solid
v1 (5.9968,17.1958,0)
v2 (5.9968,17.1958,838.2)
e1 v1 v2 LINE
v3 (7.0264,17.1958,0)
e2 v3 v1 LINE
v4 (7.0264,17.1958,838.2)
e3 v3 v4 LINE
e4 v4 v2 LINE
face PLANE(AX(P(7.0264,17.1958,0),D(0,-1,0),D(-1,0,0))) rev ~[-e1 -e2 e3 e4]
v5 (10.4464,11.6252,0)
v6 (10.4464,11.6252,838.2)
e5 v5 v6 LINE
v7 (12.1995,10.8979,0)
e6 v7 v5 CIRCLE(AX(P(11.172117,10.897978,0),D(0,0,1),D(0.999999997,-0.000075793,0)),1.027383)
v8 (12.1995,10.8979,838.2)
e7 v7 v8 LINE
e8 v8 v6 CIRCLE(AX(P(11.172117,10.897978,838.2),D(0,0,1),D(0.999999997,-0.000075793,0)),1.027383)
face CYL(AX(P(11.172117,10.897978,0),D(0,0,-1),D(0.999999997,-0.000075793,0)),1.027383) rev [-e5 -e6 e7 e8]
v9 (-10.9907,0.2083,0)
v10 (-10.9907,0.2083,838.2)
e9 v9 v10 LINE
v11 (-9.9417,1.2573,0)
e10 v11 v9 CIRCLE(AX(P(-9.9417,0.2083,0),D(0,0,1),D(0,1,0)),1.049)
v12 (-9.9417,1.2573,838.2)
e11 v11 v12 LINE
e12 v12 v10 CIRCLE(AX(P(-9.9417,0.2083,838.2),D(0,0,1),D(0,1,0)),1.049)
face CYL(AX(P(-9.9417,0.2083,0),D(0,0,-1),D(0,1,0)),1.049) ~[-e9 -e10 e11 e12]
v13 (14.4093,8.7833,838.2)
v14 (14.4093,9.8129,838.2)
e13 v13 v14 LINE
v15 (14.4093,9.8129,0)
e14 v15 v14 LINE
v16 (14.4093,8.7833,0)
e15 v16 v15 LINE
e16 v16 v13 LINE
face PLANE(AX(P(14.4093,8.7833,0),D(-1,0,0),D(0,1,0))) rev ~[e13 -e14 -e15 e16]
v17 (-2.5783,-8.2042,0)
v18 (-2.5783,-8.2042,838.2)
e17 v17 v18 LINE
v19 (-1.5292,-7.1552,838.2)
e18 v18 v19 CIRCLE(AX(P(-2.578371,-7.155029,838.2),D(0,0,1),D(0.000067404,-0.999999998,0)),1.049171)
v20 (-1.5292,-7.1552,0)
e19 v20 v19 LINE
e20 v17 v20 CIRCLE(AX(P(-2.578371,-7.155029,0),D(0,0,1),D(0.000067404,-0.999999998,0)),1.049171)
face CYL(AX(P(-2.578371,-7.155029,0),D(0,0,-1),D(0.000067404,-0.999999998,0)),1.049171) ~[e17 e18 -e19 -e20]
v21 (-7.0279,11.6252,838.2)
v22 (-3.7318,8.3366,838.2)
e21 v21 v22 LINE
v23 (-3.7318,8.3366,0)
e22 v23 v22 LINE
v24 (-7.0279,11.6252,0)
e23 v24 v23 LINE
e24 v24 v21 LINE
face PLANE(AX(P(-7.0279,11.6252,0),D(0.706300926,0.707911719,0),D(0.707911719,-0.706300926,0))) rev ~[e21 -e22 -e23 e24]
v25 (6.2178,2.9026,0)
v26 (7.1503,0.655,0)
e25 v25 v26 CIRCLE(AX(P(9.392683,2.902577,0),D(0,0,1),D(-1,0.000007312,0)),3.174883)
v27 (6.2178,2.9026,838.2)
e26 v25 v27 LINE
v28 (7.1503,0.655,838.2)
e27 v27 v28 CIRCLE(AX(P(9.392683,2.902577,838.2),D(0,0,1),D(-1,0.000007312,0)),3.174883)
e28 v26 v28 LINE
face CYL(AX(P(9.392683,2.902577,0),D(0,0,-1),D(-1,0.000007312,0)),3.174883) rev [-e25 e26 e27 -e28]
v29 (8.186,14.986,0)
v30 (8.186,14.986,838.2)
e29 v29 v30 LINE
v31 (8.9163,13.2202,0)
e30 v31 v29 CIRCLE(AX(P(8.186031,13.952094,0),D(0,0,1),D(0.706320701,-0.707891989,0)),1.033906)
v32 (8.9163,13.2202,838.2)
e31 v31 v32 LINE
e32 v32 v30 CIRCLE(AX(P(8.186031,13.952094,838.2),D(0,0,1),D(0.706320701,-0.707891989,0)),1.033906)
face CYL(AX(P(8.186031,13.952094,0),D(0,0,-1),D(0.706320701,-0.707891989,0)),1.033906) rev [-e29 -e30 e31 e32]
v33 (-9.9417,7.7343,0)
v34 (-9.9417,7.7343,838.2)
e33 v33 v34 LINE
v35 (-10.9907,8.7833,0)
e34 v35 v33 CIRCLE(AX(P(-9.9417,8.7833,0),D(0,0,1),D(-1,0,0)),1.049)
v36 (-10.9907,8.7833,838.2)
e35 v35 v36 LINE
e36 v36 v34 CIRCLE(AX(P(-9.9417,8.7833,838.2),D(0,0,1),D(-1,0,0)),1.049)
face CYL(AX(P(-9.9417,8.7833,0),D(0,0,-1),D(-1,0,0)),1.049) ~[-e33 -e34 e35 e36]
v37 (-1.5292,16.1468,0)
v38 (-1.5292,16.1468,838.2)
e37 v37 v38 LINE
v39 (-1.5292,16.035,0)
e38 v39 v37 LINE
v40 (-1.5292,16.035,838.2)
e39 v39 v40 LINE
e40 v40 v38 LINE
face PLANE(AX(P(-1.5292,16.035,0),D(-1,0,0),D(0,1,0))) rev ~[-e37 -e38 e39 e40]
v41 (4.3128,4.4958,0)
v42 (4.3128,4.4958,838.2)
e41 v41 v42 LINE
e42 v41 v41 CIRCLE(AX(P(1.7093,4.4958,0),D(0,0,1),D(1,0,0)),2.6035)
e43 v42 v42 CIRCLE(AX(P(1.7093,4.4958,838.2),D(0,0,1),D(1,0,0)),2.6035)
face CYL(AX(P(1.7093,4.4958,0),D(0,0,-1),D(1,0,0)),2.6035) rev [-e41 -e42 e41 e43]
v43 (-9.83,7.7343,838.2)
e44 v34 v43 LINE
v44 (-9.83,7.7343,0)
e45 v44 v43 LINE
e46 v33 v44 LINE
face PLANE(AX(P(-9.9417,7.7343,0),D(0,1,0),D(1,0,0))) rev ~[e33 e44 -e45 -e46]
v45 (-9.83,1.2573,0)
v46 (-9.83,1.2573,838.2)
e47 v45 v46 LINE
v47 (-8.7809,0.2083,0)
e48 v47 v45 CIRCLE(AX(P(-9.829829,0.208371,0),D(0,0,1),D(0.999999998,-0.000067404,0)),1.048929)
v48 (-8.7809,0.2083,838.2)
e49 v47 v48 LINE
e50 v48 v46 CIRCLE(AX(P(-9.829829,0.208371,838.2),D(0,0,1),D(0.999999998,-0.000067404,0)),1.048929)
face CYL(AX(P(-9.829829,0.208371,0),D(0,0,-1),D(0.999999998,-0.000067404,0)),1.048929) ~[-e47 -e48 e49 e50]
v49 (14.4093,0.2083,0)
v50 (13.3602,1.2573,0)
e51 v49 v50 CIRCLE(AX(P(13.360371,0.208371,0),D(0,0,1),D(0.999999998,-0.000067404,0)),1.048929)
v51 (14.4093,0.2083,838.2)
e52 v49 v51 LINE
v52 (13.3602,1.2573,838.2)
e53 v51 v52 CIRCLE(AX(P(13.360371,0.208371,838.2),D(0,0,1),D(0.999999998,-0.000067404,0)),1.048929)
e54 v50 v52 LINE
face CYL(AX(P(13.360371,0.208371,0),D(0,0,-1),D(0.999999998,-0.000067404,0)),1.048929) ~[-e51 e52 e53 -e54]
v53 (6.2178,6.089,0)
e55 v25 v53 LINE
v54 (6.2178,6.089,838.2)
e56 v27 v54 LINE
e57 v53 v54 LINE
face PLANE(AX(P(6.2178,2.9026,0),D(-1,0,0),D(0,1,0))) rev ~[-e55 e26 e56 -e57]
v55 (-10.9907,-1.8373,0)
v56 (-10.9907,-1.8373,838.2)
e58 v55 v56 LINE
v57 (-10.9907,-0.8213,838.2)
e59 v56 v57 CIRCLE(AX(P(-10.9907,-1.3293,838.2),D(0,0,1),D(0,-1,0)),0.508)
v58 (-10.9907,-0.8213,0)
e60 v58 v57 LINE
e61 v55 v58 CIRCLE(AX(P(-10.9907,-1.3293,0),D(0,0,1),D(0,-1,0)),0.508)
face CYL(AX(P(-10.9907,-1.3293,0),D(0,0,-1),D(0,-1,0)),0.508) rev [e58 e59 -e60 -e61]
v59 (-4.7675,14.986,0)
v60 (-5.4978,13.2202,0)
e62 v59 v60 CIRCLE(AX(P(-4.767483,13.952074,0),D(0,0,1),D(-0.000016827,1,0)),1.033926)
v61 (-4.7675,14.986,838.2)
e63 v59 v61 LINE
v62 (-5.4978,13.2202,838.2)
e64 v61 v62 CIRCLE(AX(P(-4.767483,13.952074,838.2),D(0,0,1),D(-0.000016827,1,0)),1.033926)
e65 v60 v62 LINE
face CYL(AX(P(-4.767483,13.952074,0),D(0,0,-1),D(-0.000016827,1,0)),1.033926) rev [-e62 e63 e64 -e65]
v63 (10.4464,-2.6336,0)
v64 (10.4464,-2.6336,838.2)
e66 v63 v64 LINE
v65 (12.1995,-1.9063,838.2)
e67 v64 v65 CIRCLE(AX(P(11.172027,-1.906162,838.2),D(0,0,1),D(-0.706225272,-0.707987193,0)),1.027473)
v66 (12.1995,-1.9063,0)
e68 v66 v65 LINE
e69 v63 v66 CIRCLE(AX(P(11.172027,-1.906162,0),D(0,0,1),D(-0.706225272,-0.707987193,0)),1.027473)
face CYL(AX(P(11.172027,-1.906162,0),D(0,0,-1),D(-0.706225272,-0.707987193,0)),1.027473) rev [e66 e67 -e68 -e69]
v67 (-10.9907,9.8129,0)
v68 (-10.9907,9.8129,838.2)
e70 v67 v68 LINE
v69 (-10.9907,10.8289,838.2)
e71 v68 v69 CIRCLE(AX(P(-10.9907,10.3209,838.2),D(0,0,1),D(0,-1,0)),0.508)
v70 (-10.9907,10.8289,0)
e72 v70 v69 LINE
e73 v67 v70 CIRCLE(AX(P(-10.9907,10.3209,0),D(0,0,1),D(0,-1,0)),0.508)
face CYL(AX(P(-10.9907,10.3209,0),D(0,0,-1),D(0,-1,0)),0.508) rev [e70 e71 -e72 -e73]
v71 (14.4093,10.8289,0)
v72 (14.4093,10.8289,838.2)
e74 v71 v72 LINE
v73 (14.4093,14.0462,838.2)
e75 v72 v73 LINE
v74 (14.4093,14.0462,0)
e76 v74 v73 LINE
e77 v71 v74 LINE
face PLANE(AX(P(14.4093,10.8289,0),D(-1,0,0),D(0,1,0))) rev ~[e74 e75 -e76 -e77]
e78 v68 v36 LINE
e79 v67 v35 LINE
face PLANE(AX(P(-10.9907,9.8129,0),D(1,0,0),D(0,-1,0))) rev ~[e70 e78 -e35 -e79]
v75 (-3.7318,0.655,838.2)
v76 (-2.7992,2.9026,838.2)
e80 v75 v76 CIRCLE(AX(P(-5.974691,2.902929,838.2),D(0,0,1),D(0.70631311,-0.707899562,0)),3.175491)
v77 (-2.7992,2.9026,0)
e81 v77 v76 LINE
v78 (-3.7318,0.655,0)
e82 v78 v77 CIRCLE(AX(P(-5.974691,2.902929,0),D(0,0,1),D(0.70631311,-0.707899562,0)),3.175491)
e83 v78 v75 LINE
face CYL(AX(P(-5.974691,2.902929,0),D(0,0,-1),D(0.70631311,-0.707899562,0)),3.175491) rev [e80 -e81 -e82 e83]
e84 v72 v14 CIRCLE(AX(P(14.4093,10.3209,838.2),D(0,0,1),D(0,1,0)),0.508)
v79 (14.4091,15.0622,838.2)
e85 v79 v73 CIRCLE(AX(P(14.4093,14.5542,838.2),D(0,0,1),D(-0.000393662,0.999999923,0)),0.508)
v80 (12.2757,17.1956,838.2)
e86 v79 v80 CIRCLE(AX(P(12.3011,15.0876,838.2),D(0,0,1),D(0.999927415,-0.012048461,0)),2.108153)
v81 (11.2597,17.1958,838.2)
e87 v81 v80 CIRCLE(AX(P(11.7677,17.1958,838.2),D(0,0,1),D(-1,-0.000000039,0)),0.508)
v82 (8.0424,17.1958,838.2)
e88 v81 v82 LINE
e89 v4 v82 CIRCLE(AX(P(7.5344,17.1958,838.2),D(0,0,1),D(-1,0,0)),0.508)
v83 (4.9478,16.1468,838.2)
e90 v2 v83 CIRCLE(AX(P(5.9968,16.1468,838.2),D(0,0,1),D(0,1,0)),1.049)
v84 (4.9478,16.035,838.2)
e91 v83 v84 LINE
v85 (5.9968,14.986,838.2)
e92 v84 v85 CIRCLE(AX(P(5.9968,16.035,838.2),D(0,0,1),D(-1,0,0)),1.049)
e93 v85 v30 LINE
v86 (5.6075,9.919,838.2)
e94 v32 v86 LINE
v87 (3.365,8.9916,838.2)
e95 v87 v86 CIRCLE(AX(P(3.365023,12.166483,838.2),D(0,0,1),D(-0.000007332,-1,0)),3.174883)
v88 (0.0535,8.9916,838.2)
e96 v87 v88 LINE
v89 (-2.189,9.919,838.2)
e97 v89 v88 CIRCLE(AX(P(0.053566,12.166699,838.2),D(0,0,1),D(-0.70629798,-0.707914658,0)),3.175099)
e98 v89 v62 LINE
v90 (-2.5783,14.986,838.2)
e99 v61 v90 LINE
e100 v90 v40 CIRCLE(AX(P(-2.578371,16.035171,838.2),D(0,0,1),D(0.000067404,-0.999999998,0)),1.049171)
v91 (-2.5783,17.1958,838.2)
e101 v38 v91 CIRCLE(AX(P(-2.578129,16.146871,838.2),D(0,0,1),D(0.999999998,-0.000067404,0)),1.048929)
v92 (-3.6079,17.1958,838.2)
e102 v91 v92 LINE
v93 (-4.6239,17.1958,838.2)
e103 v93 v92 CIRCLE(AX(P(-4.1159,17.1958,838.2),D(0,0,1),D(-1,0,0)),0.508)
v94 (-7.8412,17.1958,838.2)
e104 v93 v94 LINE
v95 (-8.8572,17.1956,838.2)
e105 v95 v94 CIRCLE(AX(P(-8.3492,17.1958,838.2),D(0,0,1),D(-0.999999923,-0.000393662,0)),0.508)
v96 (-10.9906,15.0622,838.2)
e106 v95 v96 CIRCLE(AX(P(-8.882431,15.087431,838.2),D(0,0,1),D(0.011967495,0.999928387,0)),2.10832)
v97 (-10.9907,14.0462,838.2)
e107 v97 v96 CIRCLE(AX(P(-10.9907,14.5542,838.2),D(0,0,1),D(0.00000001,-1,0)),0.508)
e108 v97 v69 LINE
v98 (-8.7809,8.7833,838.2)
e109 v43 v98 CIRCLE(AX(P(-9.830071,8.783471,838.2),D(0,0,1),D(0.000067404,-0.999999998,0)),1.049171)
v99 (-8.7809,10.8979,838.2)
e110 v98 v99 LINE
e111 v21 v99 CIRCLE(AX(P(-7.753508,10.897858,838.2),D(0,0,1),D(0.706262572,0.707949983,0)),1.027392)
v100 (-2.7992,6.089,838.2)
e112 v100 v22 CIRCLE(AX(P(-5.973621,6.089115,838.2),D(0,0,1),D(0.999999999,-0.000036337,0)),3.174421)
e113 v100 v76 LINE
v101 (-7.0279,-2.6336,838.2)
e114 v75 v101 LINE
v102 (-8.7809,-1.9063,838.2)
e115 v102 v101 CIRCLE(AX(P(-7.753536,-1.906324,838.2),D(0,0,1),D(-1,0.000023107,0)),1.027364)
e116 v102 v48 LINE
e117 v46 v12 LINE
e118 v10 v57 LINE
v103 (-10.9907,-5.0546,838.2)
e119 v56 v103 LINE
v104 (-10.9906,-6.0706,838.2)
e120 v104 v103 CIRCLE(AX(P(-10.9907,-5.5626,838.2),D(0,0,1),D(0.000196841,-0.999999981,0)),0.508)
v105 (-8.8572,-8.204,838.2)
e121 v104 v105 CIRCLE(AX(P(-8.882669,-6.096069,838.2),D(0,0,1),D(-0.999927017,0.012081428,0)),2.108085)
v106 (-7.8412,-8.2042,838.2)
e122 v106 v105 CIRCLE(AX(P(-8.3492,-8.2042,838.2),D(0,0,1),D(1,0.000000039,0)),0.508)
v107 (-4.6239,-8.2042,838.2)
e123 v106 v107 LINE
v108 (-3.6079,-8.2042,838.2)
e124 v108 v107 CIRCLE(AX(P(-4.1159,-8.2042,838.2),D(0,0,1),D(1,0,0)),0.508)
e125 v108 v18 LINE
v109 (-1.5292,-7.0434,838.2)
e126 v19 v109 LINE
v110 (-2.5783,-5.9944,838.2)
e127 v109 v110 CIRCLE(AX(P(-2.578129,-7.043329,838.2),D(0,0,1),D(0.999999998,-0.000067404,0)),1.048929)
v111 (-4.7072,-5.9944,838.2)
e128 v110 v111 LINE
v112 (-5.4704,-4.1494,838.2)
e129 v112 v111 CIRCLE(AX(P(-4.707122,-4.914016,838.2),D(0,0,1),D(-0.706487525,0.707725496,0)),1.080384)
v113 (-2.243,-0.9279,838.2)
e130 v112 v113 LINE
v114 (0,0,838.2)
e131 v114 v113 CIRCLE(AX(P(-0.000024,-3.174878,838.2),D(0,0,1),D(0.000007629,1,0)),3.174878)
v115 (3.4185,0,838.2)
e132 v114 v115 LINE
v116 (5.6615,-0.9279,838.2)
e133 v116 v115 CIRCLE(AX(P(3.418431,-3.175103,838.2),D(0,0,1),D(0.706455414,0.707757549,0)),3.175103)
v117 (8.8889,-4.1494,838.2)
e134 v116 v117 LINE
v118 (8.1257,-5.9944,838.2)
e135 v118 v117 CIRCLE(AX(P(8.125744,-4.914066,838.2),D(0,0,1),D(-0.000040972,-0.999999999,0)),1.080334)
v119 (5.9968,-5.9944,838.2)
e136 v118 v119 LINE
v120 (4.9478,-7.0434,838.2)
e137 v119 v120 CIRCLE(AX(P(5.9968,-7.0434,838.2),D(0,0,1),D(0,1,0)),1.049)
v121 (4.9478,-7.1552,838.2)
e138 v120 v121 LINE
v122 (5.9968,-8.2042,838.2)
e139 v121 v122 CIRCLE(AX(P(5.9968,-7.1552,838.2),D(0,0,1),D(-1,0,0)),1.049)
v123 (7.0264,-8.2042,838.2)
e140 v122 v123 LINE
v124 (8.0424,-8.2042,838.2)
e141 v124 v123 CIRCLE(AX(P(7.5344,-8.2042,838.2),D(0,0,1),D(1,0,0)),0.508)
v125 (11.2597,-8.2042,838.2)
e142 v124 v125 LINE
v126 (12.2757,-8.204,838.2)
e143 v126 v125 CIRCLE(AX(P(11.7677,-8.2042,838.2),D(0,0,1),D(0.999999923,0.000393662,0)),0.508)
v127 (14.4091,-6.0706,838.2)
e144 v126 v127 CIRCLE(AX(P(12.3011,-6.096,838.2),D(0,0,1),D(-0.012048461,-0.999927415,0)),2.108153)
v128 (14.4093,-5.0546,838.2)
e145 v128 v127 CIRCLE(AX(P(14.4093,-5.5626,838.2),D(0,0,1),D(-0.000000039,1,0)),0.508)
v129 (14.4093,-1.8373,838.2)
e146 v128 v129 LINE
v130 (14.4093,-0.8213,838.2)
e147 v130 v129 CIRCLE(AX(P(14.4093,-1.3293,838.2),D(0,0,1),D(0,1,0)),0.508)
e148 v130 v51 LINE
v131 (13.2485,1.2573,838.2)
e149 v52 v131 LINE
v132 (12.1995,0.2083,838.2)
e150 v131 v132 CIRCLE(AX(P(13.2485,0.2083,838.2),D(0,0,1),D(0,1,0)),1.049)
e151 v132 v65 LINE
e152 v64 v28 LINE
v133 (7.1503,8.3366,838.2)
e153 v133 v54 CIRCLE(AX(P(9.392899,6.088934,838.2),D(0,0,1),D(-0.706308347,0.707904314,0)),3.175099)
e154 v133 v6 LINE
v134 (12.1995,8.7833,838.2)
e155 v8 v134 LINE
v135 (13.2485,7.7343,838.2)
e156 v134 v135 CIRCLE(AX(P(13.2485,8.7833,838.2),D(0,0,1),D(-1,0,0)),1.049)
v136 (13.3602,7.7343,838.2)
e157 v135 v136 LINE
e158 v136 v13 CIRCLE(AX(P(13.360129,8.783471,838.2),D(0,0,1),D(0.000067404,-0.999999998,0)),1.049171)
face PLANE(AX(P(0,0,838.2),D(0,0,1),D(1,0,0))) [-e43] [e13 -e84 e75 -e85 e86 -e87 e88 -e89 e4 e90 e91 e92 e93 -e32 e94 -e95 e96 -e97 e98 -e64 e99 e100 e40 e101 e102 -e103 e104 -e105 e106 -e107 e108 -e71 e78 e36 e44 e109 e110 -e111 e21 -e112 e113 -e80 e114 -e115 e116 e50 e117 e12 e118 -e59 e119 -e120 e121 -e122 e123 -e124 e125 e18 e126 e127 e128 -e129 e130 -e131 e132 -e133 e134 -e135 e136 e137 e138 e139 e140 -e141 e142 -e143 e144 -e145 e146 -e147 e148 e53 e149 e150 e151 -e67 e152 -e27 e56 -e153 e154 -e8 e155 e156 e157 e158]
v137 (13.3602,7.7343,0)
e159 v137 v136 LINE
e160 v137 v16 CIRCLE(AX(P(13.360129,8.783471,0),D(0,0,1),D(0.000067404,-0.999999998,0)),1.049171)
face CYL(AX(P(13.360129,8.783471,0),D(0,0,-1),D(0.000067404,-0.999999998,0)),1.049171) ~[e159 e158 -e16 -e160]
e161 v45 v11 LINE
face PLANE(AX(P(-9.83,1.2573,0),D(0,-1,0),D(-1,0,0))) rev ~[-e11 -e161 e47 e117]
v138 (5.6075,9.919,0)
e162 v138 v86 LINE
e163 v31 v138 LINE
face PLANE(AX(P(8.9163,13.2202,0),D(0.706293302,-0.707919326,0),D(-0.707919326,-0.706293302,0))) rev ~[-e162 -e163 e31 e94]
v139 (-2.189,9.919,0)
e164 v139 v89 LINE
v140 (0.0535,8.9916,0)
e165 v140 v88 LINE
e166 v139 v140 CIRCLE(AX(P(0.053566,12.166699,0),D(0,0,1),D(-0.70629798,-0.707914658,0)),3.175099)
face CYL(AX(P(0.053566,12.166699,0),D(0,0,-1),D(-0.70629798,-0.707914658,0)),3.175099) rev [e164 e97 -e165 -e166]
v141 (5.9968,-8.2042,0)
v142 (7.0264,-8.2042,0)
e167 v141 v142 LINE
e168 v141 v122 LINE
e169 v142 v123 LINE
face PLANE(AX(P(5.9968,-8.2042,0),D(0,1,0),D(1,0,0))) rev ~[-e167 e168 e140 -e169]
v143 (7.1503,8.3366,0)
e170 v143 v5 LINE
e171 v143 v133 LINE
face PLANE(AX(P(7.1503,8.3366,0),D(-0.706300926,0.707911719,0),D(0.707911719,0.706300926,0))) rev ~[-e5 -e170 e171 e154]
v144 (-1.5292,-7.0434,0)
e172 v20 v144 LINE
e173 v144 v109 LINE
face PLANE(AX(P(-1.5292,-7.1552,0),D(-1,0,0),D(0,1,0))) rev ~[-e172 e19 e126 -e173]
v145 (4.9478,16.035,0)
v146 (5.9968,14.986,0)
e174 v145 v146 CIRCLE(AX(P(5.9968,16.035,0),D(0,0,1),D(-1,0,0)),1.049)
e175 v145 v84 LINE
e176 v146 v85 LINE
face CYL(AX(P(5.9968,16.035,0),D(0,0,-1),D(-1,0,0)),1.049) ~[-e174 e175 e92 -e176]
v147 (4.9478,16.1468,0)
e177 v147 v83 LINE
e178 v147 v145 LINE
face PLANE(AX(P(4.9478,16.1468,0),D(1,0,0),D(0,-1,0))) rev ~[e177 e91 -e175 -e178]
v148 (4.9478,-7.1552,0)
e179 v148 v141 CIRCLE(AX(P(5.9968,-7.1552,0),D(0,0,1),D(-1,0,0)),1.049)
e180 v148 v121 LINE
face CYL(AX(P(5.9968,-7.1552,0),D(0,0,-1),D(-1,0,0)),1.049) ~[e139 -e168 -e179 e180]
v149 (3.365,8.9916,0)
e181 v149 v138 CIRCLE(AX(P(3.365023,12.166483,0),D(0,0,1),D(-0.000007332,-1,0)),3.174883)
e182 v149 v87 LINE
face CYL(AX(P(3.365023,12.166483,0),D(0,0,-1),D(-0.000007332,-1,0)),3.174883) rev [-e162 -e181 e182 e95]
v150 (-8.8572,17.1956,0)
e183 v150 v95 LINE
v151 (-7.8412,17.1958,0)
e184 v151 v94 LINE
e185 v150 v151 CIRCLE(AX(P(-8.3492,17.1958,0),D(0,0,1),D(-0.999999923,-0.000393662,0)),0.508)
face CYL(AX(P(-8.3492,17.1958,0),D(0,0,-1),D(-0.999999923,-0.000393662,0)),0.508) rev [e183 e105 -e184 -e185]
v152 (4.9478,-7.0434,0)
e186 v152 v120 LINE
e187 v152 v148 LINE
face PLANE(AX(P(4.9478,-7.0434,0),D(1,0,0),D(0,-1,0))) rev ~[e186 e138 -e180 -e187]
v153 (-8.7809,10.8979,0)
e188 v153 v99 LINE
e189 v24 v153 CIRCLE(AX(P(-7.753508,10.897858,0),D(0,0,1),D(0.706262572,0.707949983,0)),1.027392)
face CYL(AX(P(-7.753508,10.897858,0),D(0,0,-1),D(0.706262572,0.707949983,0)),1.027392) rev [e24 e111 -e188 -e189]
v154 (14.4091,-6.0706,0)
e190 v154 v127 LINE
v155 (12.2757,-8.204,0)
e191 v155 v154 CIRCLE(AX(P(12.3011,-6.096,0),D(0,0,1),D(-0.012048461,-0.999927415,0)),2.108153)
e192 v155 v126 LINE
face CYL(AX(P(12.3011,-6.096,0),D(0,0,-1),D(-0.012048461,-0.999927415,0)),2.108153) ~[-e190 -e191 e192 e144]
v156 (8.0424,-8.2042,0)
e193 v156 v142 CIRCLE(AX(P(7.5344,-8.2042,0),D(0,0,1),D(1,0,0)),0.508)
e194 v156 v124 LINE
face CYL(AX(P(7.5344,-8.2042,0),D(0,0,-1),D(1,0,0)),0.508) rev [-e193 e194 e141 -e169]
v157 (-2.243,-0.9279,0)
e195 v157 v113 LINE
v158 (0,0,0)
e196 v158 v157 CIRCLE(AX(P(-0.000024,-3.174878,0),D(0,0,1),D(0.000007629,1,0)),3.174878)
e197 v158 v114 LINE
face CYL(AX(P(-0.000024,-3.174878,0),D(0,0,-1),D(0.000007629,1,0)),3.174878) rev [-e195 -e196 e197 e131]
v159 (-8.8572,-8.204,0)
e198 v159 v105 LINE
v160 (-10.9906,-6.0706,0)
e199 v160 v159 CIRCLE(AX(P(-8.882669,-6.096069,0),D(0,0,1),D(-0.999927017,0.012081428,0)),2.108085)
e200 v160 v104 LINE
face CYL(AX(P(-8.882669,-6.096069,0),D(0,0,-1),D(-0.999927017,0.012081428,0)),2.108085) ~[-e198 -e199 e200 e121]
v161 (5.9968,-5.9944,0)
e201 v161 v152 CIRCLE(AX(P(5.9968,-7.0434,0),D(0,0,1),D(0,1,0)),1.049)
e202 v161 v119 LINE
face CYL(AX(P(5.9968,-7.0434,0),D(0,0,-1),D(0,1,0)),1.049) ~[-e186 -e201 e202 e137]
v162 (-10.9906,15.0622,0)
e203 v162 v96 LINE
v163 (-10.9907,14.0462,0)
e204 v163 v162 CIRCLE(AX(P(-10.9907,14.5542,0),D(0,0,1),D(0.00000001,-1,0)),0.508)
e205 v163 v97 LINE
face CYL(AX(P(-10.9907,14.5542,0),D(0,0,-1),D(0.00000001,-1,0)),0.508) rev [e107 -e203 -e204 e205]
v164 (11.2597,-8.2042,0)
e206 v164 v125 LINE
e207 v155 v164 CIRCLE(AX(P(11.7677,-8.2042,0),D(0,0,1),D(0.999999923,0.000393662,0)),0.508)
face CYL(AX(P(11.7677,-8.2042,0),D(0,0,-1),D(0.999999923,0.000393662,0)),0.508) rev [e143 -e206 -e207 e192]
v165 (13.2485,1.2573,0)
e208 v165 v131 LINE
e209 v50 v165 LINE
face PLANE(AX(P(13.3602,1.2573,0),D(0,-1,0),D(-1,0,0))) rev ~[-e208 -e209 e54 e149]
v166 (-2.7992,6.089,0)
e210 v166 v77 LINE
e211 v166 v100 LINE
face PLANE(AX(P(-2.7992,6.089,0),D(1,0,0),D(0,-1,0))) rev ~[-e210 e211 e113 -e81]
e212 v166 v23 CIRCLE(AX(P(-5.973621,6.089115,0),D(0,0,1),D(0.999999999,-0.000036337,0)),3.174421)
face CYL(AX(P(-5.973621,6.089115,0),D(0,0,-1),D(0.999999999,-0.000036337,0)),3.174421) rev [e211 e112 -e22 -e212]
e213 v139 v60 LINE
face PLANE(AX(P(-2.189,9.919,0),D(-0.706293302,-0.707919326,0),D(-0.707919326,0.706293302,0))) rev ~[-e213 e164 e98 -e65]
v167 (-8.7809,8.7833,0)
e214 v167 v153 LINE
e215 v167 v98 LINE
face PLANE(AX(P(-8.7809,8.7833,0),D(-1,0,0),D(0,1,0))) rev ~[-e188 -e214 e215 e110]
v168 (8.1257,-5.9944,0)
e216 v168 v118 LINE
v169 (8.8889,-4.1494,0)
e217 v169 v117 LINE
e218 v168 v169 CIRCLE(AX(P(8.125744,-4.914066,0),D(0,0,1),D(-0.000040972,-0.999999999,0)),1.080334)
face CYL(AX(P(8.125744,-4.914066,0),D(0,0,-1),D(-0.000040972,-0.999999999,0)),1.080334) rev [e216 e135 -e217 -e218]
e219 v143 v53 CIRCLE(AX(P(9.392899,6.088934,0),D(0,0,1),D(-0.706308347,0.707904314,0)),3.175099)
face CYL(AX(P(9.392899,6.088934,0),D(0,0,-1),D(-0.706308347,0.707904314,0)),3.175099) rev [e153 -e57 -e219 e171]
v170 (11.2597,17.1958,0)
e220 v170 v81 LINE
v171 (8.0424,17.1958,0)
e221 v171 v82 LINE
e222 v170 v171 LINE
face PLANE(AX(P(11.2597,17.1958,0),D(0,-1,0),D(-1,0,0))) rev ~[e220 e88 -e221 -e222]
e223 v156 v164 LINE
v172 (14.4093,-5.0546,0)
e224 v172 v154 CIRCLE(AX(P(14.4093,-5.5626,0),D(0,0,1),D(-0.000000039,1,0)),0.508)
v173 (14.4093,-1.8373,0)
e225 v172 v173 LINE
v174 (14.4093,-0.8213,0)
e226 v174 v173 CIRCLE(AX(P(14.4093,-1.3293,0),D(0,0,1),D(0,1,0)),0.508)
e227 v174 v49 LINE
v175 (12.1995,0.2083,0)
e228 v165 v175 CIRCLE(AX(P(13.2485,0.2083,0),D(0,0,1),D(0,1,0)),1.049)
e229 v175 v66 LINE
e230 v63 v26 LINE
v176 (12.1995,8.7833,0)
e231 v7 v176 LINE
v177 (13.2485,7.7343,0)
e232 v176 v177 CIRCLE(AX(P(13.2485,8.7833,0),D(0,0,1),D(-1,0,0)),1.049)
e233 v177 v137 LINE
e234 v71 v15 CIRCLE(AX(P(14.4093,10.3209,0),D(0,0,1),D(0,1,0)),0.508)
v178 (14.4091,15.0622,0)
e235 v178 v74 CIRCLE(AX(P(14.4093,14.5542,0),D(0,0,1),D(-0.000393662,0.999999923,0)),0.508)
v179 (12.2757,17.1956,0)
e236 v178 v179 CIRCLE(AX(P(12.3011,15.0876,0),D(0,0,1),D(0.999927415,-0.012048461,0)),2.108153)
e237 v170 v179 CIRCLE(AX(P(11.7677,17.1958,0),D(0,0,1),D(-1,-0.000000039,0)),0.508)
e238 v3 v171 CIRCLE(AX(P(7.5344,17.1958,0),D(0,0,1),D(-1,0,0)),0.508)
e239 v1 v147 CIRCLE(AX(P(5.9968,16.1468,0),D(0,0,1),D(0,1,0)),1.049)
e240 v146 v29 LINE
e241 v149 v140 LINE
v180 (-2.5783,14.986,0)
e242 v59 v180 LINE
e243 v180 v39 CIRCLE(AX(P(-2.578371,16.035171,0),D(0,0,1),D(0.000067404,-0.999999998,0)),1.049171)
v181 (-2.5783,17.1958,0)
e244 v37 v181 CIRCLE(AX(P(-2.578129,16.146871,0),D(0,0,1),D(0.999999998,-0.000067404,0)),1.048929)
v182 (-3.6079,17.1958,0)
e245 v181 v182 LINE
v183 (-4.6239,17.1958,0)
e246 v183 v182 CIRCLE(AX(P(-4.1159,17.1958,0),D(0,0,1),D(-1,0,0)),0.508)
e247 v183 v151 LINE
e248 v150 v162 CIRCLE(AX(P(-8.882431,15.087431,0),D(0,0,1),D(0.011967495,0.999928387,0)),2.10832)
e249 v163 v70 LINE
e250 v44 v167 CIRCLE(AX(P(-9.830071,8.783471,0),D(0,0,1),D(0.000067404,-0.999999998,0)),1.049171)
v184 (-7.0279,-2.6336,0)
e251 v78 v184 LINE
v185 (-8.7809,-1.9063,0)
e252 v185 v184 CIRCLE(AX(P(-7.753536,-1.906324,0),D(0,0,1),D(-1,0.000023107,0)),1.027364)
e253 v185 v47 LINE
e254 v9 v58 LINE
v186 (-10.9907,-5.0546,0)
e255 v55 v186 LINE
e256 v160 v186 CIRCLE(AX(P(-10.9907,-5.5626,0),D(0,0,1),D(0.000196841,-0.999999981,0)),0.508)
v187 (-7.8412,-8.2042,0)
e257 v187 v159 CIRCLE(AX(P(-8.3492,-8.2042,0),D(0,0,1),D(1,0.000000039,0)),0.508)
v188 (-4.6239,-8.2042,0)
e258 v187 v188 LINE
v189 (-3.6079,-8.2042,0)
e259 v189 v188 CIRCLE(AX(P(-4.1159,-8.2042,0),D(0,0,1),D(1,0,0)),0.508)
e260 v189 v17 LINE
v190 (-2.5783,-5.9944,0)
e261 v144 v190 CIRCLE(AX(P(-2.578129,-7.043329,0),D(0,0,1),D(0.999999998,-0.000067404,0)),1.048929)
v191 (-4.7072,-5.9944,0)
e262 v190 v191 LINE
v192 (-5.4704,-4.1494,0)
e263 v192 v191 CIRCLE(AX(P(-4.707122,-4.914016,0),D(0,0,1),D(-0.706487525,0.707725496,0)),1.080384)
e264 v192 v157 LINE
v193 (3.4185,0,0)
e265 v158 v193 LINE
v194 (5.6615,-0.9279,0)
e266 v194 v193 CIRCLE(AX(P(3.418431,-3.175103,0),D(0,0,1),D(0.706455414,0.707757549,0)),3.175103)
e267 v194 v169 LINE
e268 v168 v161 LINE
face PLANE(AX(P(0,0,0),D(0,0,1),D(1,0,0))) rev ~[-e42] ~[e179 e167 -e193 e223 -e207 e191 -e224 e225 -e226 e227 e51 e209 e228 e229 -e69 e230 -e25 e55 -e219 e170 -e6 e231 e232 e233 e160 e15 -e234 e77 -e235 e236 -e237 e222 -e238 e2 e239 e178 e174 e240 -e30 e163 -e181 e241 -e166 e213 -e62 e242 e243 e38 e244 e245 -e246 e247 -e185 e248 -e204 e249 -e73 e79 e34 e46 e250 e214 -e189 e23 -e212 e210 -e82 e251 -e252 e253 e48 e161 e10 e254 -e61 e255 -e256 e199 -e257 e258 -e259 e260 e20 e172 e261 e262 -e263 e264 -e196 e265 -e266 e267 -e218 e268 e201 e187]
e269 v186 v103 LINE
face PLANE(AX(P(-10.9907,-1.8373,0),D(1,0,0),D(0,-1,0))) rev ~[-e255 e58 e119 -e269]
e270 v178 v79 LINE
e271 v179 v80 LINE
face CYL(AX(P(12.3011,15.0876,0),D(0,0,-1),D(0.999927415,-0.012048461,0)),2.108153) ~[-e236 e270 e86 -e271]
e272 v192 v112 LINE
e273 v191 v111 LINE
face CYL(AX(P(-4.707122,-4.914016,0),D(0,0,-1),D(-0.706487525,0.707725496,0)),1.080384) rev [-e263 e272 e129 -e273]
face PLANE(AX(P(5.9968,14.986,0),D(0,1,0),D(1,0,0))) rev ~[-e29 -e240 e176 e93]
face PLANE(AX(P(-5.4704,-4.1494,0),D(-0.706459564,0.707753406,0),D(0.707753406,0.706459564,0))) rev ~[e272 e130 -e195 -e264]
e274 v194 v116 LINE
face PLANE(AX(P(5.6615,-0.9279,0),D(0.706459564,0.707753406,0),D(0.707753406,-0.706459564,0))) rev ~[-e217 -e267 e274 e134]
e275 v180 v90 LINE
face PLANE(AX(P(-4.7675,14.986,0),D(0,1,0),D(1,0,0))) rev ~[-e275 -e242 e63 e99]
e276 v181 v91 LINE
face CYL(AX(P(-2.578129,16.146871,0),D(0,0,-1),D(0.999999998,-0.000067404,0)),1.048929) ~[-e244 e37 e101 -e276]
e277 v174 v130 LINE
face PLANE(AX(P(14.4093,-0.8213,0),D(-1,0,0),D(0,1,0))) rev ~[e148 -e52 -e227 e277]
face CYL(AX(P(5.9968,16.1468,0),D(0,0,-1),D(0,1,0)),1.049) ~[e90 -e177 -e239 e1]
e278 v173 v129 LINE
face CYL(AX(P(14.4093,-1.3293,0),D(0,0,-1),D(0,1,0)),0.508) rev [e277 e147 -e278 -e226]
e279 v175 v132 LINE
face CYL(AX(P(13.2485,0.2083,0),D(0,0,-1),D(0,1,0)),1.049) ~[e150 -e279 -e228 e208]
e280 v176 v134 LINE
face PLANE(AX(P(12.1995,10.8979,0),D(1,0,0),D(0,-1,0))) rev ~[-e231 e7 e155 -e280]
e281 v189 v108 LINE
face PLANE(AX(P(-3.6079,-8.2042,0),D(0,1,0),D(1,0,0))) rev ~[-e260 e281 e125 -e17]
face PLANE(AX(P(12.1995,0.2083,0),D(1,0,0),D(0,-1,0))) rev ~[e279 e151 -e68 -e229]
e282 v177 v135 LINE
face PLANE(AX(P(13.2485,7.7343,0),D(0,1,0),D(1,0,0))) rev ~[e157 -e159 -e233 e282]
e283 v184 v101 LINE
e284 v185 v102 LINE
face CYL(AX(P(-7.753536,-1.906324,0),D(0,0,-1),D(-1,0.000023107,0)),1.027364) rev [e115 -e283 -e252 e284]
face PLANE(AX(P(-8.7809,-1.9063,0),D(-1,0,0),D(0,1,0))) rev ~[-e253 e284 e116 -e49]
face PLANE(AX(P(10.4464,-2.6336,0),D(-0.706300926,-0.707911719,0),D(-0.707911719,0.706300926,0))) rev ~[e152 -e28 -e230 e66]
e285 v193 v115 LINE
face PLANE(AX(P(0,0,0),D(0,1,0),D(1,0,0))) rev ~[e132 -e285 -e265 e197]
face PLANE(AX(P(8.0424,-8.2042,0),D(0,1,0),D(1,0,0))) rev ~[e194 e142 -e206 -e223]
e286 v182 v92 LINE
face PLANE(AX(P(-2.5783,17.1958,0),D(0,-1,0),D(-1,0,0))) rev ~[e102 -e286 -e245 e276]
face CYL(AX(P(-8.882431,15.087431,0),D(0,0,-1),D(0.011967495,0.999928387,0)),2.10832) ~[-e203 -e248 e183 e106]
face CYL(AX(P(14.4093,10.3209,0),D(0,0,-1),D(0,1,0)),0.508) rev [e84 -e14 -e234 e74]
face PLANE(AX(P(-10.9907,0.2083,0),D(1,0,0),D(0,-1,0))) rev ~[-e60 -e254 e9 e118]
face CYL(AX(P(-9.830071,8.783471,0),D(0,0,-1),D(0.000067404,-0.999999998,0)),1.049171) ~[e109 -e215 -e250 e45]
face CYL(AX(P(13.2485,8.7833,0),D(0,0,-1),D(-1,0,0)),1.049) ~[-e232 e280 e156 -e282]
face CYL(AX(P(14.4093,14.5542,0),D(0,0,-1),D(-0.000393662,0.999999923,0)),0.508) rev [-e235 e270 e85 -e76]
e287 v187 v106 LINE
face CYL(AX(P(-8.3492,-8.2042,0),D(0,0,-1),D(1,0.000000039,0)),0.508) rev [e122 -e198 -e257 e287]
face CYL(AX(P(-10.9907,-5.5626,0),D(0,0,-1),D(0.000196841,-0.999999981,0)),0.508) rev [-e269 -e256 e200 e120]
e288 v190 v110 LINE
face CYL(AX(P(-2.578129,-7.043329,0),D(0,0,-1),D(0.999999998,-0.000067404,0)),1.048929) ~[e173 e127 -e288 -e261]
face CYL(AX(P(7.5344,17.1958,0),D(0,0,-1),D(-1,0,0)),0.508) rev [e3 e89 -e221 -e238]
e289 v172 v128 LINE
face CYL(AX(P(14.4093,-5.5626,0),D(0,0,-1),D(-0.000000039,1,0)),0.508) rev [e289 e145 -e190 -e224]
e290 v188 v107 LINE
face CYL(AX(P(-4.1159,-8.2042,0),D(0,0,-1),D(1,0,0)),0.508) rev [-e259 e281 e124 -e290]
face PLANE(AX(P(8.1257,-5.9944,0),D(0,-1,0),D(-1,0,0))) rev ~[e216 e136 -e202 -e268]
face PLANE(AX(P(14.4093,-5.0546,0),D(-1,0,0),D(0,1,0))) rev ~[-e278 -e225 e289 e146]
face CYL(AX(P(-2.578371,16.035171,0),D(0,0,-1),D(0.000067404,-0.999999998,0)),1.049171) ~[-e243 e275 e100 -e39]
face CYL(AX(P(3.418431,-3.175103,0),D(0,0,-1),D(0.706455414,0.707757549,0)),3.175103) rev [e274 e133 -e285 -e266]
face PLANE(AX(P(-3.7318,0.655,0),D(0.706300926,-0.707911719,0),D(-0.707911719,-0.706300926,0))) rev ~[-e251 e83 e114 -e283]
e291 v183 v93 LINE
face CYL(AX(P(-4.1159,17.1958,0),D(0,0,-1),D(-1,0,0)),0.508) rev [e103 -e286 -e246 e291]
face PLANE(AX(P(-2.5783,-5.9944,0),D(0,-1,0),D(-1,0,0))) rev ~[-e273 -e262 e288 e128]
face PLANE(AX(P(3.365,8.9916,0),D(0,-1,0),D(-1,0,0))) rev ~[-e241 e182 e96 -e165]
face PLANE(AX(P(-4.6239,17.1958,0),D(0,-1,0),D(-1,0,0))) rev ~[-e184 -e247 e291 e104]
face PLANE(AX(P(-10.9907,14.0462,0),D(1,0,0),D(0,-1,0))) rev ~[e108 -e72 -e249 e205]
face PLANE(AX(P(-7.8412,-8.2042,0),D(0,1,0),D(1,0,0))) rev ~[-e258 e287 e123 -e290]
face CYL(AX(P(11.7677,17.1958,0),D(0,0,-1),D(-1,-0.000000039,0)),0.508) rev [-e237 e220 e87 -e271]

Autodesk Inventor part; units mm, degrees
ref_plane "YZ Plane" through (0, 0, 0) normal (1, 0, 0) x (0, 1, 0)
ref_plane "XZ Plane" through (0, 0, 0) normal (0, 1, 0) x (-1, 0, 0)
ref_plane "XY Plane" through (0, 0, 0) normal (0, 0, 1) x (1, 0, 0)
sketch "Sketch1" plane through (0, 0, 0) normal (0, 0, 1) x (1, 0, 0)
  arc A0 (-5.4704, -4.1494) -> (-4.7072, -5.9944) centre (-4.7072, -4.914) ccw
  line L0 (-5.4704, -4.1494) -> (-2.243, -0.9279)
  arc A1 (0, 0) -> (-2.243, -0.9279) centre (0, -3.175) ccw
  line L1 (0, 0) -> (3.4185, 0)
  arc A2 (5.6615, -0.9279) -> (3.4185, 0) centre (3.4185, -3.175) ccw
  line L2 (5.6615, -0.9279) -> (8.8889, -4.1494)
  arc A3 (8.1257, -5.9944) -> (8.8889, -4.1494) centre (8.1257, -4.914) ccw
  line L3 (8.1257, -5.9944) -> (5.9968, -5.9944)
  arc A4 (5.9968, -5.9944) -> (4.9478, -7.0434) centre (5.9968, -7.0434) ccw
  line L4 (4.9478, -7.0434) -> (4.9478, -7.1552)
  arc A5 (4.9478, -7.1552) -> (5.9968, -8.2042) centre (5.9968, -7.1552) ccw
  line L5 (5.9968, -8.2042) -> (7.0264, -8.2042)
  arc A6 (8.0424, -8.2042) -> (7.0264, -8.2042) centre (7.5344, -8.2042) ccw
  line L6 (8.0424, -8.2042) -> (11.2597, -8.2042)
  arc A7 (12.2757, -8.204) -> (11.2597, -8.2042) centre (11.7677, -8.2042) ccw
  arc A8 (12.2757, -8.204) -> (14.4091, -6.0706) centre (12.3011, -6.096) ccw
  arc A9 (14.4093, -5.0546) -> (14.4091, -6.0706) centre (14.4093, -5.5626) ccw
  line L7 (14.4093, -5.0546) -> (14.4093, -1.8373)
  arc A10 (14.4093, -0.8213) -> (14.4093, -1.8373) centre (14.4093, -1.3293) ccw
  line L8 (14.4093, -0.8213) -> (14.4093, 0.2083)
  arc A11 (14.4093, 0.2083) -> (13.3602, 1.2573) centre (13.3602, 0.2083) ccw
  line L9 (13.3602, 1.2573) -> (13.2485, 1.2573)
  arc A12 (13.2485, 1.2573) -> (12.1995, 0.2083) centre (13.2485, 0.2083) ccw
  line L10 (12.1995, 0.2083) -> (12.1995, -1.9063)
  arc A13 (10.4464, -2.6336) -> (12.1995, -1.9063) centre (11.172, -1.9063) ccw
  line L11 (10.4464, -2.6336) -> (7.1503, 0.655)
  arc A14 (6.2178, 2.9026) -> (7.1503, 0.655) centre (9.3928, 2.9026) ccw
  line L12 (6.2178, 2.9026) -> (6.2178, 6.089)
  arc A15 (7.1503, 8.3366) -> (6.2178, 6.089) centre (9.3928, 6.089) ccw
  line L13 (7.1503, 8.3366) -> (10.4464, 11.6252)
  arc A16 (12.1995, 10.8979) -> (10.4464, 11.6252) centre (11.172, 10.8979) ccw
  line L14 (12.1995, 10.8979) -> (12.1995, 8.7833)
  arc A17 (12.1995, 8.7833) -> (13.2485, 7.7343) centre (13.2485, 8.7833) ccw
  line L15 (13.2485, 7.7343) -> (13.3602, 7.7343)
  arc A18 (13.3602, 7.7343) -> (14.4093, 8.7833) centre (13.3602, 8.7833) ccw
  line L16 (14.4093, 8.7833) -> (14.4093, 9.8129)
  arc A19 (14.4093, 10.8289) -> (14.4093, 9.8129) centre (14.4093, 10.3209) ccw
  line L17 (14.4093, 10.8289) -> (14.4093, 14.0462)
  arc A20 (14.4091, 15.0622) -> (14.4093, 14.0462) centre (14.4093, 14.5542) ccw
  arc A21 (14.4091, 15.0622) -> (12.2757, 17.1956) centre (12.3011, 15.0876) ccw
  arc A22 (11.2597, 17.1958) -> (12.2757, 17.1956) centre (11.7677, 17.1958) ccw
  line L18 (11.2597, 17.1958) -> (8.0424, 17.1958)
  arc A23 (7.0264, 17.1958) -> (8.0424, 17.1958) centre (7.5344, 17.1958) ccw
  line L19 (7.0264, 17.1958) -> (5.9968, 17.1958)
  arc A24 (5.9968, 17.1958) -> (4.9478, 16.1468) centre (5.9968, 16.1468) ccw
  line L20 (4.9478, 16.1468) -> (4.9478, 16.035)
  arc A25 (4.9478, 16.035) -> (5.9968, 14.986) centre (5.9968, 16.035) ccw
  line L21 (5.9968, 14.986) -> (8.186, 14.986)
  arc A26 (8.9163, 13.2202) -> (8.186, 14.986) centre (8.186, 13.9521) ccw
  line L22 (8.9163, 13.2202) -> (5.6075, 9.919)
  arc A27 (3.365, 8.9916) -> (5.6075, 9.919) centre (3.365, 12.1666) ccw
  line L23 (3.365, 8.9916) -> (0.0535, 8.9916)
  arc A28 (-2.189, 9.919) -> (0.0535, 8.9916) centre (0.0535, 12.1666) ccw
  line L24 (-2.189, 9.919) -> (-5.4978, 13.2202)
  arc A29 (-4.7675, 14.986) -> (-5.4978, 13.2202) centre (-4.7675, 13.9521) ccw
  line L25 (-4.7675, 14.986) -> (-2.5783, 14.986)
  arc A30 (-2.5783, 14.986) -> (-1.5292, 16.035) centre (-2.5783, 16.035) ccw
  line L26 (-1.5292, 16.035) -> (-1.5292, 16.1468)
  arc A31 (-1.5292, 16.1468) -> (-2.5783, 17.1958) centre (-2.5783, 16.1468) ccw
  line L27 (-2.5783, 17.1958) -> (-3.6079, 17.1958)
  arc A32 (-4.6239, 17.1958) -> (-3.6079, 17.1958) centre (-4.1159, 17.1958) ccw
  line L28 (-4.6239, 17.1958) -> (-7.8412, 17.1958)
  arc A33 (-8.8572, 17.1956) -> (-7.8412, 17.1958) centre (-8.3492, 17.1958) ccw
  arc A34 (-8.8572, 17.1956) -> (-10.9906, 15.0622) centre (-8.8825, 15.0876) ccw
  arc A35 (-10.9907, 14.0462) -> (-10.9906, 15.0622) centre (-10.9907, 14.5542) ccw
  line L29 (-10.9907, 14.0462) -> (-10.9907, 10.8289)
  arc A36 (-10.9907, 9.8129) -> (-10.9907, 10.8289) centre (-10.9907, 10.3209) ccw
  line L30 (-10.9907, 9.8129) -> (-10.9907, 8.7833)
  arc A37 (-10.9907, 8.7833) -> (-9.9417, 7.7343) centre (-9.9417, 8.7833) ccw
  line L31 (-9.9417, 7.7343) -> (-9.83, 7.7343)
  arc A38 (-9.83, 7.7343) -> (-8.7809, 8.7833) centre (-9.83, 8.7833) ccw
  line L32 (-8.7809, 8.7833) -> (-8.7809, 10.8979)
  arc A39 (-7.0279, 11.6252) -> (-8.7809, 10.8979) centre (-7.7535, 10.8979) ccw
  line L33 (-7.0279, 11.6252) -> (-3.7318, 8.3366)
  arc A40 (-2.7992, 6.089) -> (-3.7318, 8.3366) centre (-5.9742, 6.089) ccw
  line L34 (-2.7992, 6.089) -> (-2.7992, 2.9026)
  arc A41 (-3.7318, 0.655) -> (-2.7992, 2.9026) centre (-5.9742, 2.9026) ccw
  line L35 (-3.7318, 0.655) -> (-7.0279, -2.6336)
  arc A42 (-8.7809, -1.9063) -> (-7.0279, -2.6336) centre (-7.7535, -1.9063) ccw
  line L36 (-8.7809, -1.9063) -> (-8.7809, 0.2083)
  arc A43 (-8.7809, 0.2083) -> (-9.83, 1.2573) centre (-9.83, 0.2083) ccw
  line L37 (-9.83, 1.2573) -> (-9.9417, 1.2573)
  arc A44 (-9.9417, 1.2573) -> (-10.9907, 0.2083) centre (-9.9417, 0.2083) ccw
  line L38 (-10.9907, 0.2083) -> (-10.9907, -0.8213)
  arc A45 (-10.9907, -1.8373) -> (-10.9907, -0.8213) centre (-10.9907, -1.3293) ccw
  line L39 (-10.9907, -1.8373) -> (-10.9907, -5.0546)
  arc A46 (-10.9906, -6.0706) -> (-10.9907, -5.0546) centre (-10.9907, -5.5626) ccw
  arc A47 (-10.9906, -6.0706) -> (-8.8572, -8.204) centre (-8.8825, -6.096) ccw
  arc A48 (-7.8412, -8.2042) -> (-8.8572, -8.204) centre (-8.3492, -8.2042) ccw
  line L40 (-7.8412, -8.2042) -> (-4.6239, -8.2042)
  arc A49 (-3.6079, -8.2042) -> (-4.6239, -8.2042) centre (-4.1159, -8.2042) ccw
  line L41 (-3.6079, -8.2042) -> (-2.5783, -8.2042)
  arc A50 (-2.5783, -8.2042) -> (-1.5292, -7.1552) centre (-2.5783, -7.1552) ccw
  line L42 (-1.5292, -7.1552) -> (-1.5292, -7.0434)
  arc A51 (-1.5292, -7.0434) -> (-2.5783, -5.9944) centre (-2.5783, -7.0434) ccw
  line L43 (-2.5783, -5.9944) -> (-4.7072, -5.9944)
  circle A52 centre (1.7093, 4.4958) radius 2.6035
extrude "Extrusion1" add sketch "Sketch1" along normal blind 838.2
properties part number "33in 1x1 T slot"
